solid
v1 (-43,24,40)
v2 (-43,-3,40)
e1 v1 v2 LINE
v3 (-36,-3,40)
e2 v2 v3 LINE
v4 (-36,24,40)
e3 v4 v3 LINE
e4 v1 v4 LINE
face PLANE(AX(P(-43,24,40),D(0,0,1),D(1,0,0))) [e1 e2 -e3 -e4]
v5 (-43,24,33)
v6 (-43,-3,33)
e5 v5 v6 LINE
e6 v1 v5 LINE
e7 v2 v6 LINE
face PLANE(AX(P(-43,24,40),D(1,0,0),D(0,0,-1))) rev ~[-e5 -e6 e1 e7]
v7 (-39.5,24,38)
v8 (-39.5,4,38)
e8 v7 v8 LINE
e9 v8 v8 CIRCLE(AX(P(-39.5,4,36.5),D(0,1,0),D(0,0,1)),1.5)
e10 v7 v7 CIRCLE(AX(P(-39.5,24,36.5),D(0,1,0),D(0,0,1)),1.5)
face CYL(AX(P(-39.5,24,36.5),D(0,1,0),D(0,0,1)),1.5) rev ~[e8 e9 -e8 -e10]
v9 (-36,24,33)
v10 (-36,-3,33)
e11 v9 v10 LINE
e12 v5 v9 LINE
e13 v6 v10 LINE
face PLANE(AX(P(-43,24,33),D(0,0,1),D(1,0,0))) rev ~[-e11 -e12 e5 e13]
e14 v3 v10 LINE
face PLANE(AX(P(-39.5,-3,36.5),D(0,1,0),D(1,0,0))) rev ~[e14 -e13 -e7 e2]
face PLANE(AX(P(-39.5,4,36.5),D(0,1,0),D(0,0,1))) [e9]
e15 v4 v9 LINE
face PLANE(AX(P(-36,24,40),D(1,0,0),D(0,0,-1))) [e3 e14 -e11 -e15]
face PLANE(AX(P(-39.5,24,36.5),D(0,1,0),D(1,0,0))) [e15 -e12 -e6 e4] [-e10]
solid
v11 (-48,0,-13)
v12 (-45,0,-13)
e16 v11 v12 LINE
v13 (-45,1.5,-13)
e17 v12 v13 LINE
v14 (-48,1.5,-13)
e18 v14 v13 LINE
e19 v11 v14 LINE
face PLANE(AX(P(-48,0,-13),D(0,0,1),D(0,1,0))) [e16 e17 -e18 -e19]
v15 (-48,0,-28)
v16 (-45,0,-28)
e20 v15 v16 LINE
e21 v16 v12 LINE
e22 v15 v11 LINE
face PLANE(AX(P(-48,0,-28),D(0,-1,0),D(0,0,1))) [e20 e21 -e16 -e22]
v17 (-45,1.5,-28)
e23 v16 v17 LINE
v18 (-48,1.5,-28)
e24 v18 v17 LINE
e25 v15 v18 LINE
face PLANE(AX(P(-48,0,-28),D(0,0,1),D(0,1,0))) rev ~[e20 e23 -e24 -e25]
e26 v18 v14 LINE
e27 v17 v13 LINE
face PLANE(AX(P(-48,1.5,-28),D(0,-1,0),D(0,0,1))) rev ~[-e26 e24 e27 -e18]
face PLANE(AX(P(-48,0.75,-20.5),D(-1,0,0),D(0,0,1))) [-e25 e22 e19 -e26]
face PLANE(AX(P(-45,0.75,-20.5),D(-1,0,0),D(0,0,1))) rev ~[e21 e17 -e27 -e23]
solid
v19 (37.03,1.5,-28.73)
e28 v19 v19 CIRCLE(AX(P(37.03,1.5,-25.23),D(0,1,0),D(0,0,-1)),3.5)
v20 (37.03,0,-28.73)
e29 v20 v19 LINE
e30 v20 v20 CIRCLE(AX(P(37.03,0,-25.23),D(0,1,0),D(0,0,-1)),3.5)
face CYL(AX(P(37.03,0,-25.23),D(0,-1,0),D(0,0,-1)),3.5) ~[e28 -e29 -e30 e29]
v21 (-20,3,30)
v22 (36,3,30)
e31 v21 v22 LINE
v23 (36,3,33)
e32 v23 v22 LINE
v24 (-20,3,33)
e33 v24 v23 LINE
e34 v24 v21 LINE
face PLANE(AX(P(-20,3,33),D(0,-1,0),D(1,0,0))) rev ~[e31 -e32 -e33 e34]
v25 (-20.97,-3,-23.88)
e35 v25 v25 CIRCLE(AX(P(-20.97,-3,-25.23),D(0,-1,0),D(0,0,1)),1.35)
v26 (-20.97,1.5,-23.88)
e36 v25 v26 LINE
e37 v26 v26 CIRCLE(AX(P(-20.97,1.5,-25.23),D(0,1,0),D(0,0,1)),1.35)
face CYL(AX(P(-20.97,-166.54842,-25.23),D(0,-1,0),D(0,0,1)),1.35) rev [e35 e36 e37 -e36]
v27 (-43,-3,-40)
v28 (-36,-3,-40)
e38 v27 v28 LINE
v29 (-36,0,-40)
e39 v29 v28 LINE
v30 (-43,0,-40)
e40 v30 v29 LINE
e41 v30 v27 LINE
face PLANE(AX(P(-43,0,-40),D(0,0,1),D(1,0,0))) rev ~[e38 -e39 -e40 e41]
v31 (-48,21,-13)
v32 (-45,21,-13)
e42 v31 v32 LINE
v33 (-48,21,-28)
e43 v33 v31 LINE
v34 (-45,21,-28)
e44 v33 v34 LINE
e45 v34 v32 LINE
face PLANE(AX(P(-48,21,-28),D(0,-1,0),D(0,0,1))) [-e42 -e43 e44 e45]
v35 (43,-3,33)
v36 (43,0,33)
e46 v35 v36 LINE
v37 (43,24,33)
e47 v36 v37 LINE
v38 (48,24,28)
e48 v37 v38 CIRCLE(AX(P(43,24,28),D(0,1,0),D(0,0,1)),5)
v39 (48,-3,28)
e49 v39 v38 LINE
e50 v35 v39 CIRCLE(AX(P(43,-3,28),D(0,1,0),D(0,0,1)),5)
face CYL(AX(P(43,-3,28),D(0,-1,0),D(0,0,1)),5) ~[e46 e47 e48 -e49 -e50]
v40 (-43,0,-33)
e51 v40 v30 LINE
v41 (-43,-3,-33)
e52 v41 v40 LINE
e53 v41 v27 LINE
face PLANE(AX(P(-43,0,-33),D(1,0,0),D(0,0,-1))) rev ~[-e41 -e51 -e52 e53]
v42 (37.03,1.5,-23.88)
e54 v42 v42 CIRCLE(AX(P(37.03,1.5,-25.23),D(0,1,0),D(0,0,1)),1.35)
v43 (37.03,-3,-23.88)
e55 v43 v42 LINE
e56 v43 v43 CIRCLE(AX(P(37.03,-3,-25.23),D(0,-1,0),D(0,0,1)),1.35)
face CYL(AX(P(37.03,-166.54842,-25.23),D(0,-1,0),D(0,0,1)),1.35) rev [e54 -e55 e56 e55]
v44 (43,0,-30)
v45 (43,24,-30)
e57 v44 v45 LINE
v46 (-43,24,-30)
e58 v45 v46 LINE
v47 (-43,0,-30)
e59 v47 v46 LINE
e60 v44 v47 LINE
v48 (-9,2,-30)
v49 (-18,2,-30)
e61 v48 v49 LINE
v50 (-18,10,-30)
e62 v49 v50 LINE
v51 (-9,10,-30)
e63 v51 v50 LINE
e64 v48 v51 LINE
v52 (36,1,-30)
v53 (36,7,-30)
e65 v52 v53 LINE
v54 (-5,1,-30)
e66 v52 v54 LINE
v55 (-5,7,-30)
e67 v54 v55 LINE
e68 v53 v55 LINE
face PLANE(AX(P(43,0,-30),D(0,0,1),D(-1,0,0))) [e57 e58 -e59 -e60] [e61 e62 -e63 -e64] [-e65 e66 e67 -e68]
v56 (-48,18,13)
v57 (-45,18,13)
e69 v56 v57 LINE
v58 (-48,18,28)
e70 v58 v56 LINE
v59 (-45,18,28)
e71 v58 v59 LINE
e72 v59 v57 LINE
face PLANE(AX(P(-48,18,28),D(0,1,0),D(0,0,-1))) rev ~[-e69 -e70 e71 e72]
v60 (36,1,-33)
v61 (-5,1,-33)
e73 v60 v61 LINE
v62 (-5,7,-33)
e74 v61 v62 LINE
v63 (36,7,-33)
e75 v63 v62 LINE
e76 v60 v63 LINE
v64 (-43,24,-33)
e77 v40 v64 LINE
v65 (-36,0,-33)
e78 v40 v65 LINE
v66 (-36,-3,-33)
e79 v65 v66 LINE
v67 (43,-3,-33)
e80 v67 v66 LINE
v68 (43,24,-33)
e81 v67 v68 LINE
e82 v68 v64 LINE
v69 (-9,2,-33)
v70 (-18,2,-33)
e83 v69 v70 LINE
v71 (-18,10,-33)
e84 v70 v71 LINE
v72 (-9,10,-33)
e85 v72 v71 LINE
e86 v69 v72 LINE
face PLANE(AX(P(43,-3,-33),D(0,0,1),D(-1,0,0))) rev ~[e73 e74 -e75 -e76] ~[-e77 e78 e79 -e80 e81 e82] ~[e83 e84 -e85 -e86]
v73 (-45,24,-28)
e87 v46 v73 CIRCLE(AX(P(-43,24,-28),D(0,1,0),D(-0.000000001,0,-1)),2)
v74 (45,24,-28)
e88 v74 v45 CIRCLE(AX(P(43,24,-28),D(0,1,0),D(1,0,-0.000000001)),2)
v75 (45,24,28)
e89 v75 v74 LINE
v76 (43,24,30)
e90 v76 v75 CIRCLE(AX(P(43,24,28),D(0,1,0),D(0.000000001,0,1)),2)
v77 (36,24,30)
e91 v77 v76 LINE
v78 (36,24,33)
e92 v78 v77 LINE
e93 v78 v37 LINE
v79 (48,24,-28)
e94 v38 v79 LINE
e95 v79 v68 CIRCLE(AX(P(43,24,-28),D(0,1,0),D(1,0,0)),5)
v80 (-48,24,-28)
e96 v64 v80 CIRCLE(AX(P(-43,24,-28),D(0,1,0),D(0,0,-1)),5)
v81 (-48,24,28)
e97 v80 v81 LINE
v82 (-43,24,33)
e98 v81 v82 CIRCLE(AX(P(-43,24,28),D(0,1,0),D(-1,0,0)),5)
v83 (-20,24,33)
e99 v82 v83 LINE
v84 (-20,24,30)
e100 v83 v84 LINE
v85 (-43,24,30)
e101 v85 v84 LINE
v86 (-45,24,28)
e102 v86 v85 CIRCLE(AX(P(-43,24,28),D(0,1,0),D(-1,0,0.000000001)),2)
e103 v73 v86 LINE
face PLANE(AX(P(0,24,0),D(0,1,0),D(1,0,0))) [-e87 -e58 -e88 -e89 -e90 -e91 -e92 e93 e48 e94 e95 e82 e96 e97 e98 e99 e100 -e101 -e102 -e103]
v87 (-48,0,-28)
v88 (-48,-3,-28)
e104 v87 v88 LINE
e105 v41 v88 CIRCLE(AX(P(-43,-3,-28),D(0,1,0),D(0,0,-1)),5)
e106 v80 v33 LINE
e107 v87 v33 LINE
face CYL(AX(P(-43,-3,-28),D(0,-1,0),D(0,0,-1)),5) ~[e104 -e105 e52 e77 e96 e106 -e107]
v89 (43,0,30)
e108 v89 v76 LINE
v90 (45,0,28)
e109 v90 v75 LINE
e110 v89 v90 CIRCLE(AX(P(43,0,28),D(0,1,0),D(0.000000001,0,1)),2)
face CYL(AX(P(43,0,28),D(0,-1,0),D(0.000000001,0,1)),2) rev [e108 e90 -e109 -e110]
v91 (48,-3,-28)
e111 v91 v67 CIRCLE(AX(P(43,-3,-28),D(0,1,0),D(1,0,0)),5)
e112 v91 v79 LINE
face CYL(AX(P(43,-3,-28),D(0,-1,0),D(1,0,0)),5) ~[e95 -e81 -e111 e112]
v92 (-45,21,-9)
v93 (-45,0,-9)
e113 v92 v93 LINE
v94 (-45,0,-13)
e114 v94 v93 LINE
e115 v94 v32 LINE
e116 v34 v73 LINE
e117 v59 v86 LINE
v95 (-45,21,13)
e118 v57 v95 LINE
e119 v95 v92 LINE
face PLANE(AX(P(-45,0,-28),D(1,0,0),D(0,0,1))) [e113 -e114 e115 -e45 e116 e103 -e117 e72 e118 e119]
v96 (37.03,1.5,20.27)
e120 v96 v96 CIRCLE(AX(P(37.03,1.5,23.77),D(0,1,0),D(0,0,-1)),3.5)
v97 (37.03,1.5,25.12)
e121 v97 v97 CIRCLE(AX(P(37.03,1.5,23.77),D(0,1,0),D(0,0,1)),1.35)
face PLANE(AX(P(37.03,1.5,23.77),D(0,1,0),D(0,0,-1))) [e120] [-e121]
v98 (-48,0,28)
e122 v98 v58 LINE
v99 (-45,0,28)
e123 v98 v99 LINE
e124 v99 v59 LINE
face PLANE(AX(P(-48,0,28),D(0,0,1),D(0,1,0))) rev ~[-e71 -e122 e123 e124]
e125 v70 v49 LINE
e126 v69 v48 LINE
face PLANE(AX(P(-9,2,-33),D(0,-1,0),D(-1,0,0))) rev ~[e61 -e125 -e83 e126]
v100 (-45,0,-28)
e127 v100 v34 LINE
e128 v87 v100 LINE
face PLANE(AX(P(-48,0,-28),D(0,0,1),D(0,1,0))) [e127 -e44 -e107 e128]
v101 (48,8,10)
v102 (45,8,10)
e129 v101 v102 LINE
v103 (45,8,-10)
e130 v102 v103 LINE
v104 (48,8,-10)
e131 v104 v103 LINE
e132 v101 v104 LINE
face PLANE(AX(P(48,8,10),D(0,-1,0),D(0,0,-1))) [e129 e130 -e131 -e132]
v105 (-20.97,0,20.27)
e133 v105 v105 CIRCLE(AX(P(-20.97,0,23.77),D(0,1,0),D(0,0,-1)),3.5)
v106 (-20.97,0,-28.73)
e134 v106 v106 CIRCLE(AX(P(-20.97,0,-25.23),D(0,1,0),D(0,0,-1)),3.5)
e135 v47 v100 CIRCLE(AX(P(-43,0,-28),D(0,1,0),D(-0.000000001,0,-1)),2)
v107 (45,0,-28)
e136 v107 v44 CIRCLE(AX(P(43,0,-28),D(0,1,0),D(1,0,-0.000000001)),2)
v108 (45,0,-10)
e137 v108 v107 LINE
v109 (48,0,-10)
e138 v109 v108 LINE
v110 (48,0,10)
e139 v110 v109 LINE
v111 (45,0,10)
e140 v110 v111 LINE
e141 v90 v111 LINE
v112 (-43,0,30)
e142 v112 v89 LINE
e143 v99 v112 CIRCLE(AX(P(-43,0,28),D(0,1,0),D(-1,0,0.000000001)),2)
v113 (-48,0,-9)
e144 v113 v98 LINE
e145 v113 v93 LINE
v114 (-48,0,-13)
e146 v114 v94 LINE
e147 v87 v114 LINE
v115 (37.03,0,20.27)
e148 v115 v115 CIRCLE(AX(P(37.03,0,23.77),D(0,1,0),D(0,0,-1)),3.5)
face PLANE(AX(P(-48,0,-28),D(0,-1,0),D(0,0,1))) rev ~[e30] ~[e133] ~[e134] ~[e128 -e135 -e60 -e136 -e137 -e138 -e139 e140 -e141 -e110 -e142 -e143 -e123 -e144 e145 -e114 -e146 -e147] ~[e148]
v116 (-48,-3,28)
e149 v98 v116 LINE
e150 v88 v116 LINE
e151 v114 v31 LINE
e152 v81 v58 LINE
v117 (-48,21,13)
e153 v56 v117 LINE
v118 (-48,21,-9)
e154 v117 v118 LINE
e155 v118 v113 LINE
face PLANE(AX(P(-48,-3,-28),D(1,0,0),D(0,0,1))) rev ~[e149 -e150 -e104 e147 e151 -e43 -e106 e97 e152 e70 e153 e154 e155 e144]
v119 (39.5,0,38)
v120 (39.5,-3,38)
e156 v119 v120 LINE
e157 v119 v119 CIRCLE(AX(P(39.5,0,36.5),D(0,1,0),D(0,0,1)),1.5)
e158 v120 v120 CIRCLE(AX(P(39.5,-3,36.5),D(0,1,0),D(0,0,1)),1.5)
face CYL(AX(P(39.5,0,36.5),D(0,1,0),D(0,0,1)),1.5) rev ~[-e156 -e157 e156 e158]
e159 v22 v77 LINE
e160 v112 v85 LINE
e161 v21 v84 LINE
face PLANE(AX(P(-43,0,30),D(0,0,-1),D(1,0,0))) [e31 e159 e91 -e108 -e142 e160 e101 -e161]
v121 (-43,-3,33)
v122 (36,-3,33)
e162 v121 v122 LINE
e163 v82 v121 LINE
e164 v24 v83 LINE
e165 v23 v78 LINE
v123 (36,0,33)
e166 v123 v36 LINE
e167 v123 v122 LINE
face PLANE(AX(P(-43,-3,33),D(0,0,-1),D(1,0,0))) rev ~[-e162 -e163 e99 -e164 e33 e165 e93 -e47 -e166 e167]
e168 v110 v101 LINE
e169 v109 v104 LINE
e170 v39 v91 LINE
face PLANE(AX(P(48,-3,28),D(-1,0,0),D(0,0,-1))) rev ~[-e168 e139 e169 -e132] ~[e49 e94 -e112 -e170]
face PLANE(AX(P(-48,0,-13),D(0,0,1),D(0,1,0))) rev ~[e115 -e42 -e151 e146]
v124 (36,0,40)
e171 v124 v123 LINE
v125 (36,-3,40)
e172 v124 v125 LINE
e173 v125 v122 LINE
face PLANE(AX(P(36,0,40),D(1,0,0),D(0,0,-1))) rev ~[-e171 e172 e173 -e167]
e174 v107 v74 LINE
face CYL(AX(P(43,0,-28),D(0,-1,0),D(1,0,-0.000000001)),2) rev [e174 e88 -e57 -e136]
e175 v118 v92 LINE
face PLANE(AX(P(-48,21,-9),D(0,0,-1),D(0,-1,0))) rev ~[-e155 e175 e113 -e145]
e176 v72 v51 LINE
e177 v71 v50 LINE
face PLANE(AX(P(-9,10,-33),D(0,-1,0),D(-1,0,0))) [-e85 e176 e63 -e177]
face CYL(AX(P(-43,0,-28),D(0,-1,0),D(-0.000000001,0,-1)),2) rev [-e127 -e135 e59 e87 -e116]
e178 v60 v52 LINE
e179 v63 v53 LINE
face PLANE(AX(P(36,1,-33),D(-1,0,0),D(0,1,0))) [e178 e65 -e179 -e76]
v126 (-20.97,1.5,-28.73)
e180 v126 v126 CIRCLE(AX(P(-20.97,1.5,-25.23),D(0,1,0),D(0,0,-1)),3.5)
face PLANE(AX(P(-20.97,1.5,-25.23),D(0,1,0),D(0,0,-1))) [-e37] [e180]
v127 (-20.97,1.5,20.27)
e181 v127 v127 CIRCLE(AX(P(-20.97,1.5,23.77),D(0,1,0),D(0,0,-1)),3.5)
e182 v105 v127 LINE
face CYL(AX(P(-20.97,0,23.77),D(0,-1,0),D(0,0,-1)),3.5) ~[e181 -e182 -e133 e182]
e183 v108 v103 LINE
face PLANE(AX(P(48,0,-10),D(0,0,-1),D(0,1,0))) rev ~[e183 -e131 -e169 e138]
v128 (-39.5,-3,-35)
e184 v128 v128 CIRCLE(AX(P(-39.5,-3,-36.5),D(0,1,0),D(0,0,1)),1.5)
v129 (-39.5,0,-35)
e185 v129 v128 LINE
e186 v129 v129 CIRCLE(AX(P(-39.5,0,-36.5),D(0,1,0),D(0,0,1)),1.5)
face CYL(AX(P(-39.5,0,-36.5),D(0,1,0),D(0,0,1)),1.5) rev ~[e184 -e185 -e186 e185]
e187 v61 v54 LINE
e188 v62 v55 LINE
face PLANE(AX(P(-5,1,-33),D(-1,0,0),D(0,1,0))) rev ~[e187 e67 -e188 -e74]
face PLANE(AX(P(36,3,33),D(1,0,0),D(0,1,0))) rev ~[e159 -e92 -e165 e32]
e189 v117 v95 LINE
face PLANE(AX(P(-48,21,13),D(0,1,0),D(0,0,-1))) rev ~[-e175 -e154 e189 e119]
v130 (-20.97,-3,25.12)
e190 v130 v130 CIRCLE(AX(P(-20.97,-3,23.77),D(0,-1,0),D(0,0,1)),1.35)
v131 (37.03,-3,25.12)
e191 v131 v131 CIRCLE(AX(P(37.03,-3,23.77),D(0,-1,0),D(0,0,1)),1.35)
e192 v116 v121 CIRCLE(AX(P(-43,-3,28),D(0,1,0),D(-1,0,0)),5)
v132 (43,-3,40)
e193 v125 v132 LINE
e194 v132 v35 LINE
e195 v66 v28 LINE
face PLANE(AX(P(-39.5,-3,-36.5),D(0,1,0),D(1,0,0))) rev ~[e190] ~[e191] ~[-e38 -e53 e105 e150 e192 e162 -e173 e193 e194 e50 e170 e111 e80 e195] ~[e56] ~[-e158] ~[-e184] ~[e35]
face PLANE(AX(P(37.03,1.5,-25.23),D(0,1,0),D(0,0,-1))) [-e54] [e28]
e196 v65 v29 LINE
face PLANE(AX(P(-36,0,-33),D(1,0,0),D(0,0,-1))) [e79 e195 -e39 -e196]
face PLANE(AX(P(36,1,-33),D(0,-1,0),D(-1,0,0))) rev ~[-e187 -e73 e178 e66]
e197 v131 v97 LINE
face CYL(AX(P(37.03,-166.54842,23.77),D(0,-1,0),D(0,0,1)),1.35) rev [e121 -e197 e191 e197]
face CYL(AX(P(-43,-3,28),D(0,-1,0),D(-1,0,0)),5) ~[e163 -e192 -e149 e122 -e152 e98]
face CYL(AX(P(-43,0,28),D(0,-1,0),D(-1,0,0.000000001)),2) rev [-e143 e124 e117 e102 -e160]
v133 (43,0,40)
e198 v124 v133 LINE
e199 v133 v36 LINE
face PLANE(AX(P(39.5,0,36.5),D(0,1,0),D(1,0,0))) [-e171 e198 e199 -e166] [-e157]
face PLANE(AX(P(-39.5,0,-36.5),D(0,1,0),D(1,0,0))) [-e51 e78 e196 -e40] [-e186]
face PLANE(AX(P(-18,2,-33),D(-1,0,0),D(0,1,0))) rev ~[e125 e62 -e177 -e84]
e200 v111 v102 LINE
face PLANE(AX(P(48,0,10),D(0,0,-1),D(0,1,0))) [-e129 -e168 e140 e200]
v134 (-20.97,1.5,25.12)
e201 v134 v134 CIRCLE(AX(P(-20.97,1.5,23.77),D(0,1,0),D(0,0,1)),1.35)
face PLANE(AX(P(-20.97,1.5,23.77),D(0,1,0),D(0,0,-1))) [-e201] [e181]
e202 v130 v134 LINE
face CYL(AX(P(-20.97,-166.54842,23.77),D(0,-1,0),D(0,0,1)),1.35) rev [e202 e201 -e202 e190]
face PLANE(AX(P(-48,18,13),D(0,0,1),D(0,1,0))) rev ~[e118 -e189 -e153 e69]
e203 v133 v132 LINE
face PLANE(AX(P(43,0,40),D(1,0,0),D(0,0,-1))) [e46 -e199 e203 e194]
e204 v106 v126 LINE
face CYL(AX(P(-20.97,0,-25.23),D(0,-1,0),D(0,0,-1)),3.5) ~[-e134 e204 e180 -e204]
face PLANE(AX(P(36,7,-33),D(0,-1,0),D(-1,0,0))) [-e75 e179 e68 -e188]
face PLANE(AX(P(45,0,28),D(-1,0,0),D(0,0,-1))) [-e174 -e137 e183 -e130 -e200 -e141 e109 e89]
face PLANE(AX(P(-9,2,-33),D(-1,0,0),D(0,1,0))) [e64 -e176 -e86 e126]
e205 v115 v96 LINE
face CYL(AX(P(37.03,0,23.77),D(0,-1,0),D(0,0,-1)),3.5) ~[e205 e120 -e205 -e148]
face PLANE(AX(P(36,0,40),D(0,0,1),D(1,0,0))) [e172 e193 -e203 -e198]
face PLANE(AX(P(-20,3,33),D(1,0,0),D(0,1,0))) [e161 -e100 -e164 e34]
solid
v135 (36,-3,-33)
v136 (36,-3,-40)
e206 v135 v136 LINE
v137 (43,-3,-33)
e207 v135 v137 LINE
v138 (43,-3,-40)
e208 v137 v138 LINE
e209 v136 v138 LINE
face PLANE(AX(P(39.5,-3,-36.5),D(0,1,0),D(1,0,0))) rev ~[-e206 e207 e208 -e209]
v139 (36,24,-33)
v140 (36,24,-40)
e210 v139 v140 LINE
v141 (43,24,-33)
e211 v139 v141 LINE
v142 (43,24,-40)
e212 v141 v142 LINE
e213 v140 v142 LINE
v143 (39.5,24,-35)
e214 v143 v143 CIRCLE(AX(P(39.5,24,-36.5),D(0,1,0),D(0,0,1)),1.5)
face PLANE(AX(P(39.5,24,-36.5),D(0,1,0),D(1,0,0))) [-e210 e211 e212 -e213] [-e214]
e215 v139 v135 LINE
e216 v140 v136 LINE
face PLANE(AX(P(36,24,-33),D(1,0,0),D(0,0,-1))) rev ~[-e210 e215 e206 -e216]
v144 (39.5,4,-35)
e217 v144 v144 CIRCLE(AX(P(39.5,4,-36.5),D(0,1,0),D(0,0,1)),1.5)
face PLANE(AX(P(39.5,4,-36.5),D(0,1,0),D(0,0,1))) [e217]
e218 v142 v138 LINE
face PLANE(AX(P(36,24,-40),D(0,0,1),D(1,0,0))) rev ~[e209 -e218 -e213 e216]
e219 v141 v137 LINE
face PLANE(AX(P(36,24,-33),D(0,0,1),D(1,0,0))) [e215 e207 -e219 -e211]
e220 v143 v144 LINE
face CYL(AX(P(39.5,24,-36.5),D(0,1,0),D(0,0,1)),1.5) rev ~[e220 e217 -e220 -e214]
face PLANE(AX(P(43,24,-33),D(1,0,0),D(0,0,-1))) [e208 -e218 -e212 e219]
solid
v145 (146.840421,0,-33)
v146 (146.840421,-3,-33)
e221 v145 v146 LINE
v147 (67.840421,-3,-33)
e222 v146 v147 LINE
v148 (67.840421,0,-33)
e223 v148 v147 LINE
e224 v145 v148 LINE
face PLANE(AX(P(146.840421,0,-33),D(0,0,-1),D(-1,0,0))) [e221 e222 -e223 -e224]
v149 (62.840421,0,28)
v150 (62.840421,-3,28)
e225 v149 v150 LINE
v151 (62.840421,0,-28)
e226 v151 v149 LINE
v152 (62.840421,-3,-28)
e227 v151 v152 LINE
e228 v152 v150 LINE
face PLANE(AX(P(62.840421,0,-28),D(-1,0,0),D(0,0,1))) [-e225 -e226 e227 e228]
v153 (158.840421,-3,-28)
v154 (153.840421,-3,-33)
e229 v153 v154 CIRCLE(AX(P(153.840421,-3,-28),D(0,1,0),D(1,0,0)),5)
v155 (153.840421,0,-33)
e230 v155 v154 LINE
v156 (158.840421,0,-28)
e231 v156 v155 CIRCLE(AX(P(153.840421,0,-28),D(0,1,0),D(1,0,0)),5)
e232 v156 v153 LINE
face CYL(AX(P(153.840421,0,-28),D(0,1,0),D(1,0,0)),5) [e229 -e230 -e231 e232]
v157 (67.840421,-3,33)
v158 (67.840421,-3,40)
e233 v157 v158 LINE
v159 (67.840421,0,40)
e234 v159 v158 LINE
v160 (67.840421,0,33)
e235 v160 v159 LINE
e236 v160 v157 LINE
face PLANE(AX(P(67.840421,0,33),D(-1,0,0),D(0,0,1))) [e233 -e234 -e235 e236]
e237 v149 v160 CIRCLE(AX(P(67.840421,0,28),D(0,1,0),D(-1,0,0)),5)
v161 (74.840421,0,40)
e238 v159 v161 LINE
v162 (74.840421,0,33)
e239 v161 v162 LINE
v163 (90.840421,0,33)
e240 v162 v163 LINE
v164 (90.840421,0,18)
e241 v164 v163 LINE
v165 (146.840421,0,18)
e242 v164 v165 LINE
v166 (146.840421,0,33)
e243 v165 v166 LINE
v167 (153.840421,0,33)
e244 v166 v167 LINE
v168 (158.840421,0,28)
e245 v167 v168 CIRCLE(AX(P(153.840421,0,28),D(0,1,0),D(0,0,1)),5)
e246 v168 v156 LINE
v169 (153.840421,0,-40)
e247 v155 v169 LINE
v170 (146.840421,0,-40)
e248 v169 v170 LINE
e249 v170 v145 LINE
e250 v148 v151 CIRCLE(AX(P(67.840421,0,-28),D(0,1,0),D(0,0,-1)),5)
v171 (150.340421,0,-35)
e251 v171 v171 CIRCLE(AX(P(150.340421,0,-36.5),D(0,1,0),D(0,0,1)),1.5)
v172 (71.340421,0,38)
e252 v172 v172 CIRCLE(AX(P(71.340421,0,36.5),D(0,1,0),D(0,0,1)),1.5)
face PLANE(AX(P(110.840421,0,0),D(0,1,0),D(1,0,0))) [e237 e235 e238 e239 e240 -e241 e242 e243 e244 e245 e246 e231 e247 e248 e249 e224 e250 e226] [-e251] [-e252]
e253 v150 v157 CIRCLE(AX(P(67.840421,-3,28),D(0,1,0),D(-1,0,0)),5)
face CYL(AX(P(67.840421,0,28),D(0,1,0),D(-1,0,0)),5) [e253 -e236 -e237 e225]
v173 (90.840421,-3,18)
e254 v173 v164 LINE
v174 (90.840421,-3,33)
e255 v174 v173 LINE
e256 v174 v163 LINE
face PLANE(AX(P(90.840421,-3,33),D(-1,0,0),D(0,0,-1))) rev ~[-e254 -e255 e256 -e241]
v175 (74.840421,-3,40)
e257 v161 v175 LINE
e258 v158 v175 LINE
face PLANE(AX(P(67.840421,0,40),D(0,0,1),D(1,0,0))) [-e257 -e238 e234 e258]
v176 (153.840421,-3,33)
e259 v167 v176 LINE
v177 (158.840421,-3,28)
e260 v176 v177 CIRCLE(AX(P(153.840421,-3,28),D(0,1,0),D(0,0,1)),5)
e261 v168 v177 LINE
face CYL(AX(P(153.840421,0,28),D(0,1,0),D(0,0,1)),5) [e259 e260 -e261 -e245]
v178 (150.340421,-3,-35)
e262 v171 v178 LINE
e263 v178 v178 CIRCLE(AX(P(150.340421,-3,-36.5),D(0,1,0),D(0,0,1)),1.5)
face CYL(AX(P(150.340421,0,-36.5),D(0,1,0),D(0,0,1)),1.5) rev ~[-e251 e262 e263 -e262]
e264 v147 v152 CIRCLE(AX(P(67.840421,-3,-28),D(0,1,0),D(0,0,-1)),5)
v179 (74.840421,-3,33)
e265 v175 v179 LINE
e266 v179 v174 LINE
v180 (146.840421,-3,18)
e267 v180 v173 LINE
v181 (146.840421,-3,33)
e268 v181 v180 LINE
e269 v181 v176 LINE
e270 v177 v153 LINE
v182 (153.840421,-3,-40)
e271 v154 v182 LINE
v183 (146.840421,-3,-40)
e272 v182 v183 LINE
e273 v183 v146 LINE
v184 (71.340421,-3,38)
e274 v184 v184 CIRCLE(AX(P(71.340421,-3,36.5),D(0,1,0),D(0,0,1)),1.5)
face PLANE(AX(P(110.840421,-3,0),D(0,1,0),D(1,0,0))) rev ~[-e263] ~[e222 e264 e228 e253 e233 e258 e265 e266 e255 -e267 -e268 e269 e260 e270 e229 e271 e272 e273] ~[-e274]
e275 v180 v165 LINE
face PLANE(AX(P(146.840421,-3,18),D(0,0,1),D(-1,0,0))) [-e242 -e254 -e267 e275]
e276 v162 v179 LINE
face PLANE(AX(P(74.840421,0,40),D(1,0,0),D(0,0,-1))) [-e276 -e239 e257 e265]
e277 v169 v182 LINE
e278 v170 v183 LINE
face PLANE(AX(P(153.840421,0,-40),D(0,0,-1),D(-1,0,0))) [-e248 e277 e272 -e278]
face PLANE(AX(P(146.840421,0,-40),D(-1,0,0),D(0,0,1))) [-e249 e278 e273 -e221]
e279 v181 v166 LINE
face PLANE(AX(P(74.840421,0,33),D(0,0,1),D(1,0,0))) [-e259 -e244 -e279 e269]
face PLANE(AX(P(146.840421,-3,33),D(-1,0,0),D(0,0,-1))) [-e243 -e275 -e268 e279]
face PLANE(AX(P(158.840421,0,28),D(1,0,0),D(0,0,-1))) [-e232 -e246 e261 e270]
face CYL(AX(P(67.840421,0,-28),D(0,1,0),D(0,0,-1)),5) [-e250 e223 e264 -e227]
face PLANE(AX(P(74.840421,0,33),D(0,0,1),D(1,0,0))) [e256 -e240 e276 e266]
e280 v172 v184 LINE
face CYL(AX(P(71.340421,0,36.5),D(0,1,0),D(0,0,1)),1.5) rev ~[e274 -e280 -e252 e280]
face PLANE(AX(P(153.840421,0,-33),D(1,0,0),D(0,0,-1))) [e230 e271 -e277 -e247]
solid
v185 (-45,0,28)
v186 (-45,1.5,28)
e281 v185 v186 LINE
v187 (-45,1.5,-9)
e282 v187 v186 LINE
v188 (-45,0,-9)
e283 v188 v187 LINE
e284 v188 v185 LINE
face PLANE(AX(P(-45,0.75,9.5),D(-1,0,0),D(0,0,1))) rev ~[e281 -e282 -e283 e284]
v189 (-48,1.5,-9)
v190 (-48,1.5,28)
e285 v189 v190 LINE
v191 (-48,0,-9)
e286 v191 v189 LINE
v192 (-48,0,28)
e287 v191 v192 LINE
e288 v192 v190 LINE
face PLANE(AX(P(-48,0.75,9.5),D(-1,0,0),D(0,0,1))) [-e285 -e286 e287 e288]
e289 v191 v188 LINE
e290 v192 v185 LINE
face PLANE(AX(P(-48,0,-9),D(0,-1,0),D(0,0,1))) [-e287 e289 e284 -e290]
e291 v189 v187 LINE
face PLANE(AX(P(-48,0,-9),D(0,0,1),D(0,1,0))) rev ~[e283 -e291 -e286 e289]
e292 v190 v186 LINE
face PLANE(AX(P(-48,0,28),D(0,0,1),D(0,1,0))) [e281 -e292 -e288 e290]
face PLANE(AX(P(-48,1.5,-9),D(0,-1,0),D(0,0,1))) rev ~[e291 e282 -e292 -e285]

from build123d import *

# Parameters (mm, degrees)
EXTRUIR_L_MINA1_DEPTH      = 24
SALIENTE_EXTRUIR1_START    = 3
SALIENTE_EXTRUIR1_DEPTH    = 3
CORTAR_EXTRUIR1_REACH      = 106.312
CROQUIS4_W                 = 15
CROQUIS4_H                 = 21
CORTAR_EXTRUIR2_REACH      = 87.065
CROQUIS5_W                 = 56
CROQUIS5_H                 = 21
CORTAR_EXTRUIR3_REACH      = 87.065
CROQUIS7_W                 = 41
CROQUIS7_H                 = 6
CROQUIS7_W_2               = 9
CROQUIS7_H_2               = 8
CROQUIS8_W                 = 7
CROQUIS8_H                 = 7
SALIENTE_EXTRUIR5_DEPTH    = 27
SALIENTE_EXTRUIR5_2_DEPTH  = 27
CROQUIS10_R                = 1.5
CORTAR_EXTRUIR4_DEPTH      = 20
CROQUIS11_R                = 1.5
SALIENTE_EXTRUIR6_DEPTH    = 3
CROQUIS12_W                = 15
CROQUIS12_H                = 1.5
SALIENTE_EXTRUIR7_DEPTH    = 3
CROQUIS12_W_2              = 37
SALIENTE_EXTRUIR7_2_DEPTH  = 3
CROQUIS13_R                = 3.5
CROQUIS13_R_2              = 1.35
SALIENTE_EXTRUIR8_DEPTH    = 1.5
CORTAR_EXTRUIR5_DEPTH      = 2
CORTAR_EXTRUIR5_DEPTH_BACK = 166.548420234
CROQUIS14_R                = 1.35
CROQUIS15_W                = 56
CROQUIS15_H                = 15
CORTAR_EXTRUIR6_DEPTH      = 167.009877543
CROQUIS16_W                = 7
CROQUIS16_H                = 7
CROQUIS16_R                = 1.5
SALIENTE_EXTRUIR9_DEPTH    = 3
CROQUIS17_W                = 20
CROQUIS17_H                = 8
CORTAR_EXTRUIR7_DEPTH      = 3


with BuildPart() as part:
    # Croquis1 → Extruir-Lámina1 (new body)
    with BuildSketch(Plane(origin=(0, 0, 0), x_dir=(1, 0, 0), z_dir=(0, 1, 0))):
        with BuildLine():
            Line((-48, 28), (-48, -28))
            ThreePointArc((-48, -28), (-46.535533906, -31.535533906), (-43, -33))
            Line((-43, -33), (43, -33))
            ThreePointArc((43, -33), (46.535533906, -31.535533906), (48, -28))
            Line((48, -28), (48, 28))
            ThreePointArc((48, 28), (46.535533906, 31.535533906), (43, 33))
            Line((43, 33), (-43, 33))
            ThreePointArc((-43, 33), (-46.535533906, 31.535533906), (-48, 28))
        make_face()
        with BuildLine():
            Line((-45, 28), (-45, -28))
            ThreePointArc((-45, -28), (-44.414213562, -29.414213562), (-43, -30))
            Line((-43, -30), (43, -30))
            ThreePointArc((43, -30), (44.414213562, -29.414213562), (45, -28))
            Line((45, -28), (45, 28))
            ThreePointArc((45, 28), (44.414213562, 29.414213562), (43, 30))
            Line((43, 30), (-43, 30))
            ThreePointArc((-43, 30), (-44.414213562, 29.414213562), (-45, 28))
        make_face(mode=Mode.SUBTRACT)
    extrude(amount=EXTRUIR_L_MINA1_DEPTH)

    # Croquis3 → Saliente-Extruir1 (add)
    with BuildSketch(Plane.XZ.offset(SALIENTE_EXTRUIR1_START)):
        with BuildLine():
            Line((-43, 33), (43, 33))
            ThreePointArc((43, 33), (46.535533906, 31.535533906), (48, 28))
            Line((48, 28), (48, -28))
            ThreePointArc((48, -28), (46.535533906, -31.535533906), (43, -33))
            Line((43, -33), (-43, -33))
            ThreePointArc((-43, -33), (-46.535533906, -31.535533906), (-48, -28))
            Line((-48, -28), (-48, 28))
            ThreePointArc((-48, 28), (-46.535533906, 31.535533906), (-43, 33))
        make_face()
    extrude(amount=-SALIENTE_EXTRUIR1_DEPTH)

    # Croquis4 → Cortar-Extruir1 (cut, up to next)
    with BuildSketch(Plane.ZY.offset(48), mode=Mode.PRIVATE) as cortar_extruir1_sk1:
        Polygon((28, 0), (28, 18), (13, 18), (13, 21), (-9, 21), (-9, 0), align=None)
    cortar_extruir1_tool1 = extrude(cortar_extruir1_sk1.sketch, amount=-CORTAR_EXTRUIR1_REACH, mode=Mode.PRIVATE) & part.part
    # Croquis4 → Cortar-Extruir1 (cut, up to next)
    with BuildSketch(Plane.ZY.offset(48), mode=Mode.PRIVATE) as cortar_extruir1_sk2:
        with Locations((-20.5, 10.5)):
            Rectangle(CROQUIS4_W, CROQUIS4_H)
    cortar_extruir1_tool2 = extrude(cortar_extruir1_sk2.sketch, amount=-CORTAR_EXTRUIR1_REACH, mode=Mode.PRIVATE) & part.part
    add(cortar_extruir1_tool1.solids().sort_by_distance((-48, 9.946721, 8.82377))[0], mode=Mode.SUBTRACT)
    add(cortar_extruir1_tool2.solids().sort_by_distance((-48, 10.5, -20.5))[0], mode=Mode.SUBTRACT)

    # Croquis5 → Cortar-Extruir2 (cut, up to next)
    with BuildSketch(Plane.XY.offset(33), mode=Mode.PRIVATE) as cortar_extruir2_sk1:
        with Locations((8, 13.5)):
            Rectangle(CROQUIS5_W, CROQUIS5_H)
    cortar_extruir2_tool1 = extrude(cortar_extruir2_sk1.sketch, amount=-CORTAR_EXTRUIR2_REACH, mode=Mode.PRIVATE) & part.part
    add(cortar_extruir2_tool1.solids().sort_by_distance((8, 13.5, 33))[0], mode=Mode.SUBTRACT)

    # Croquis7 → Cortar-Extruir3 (cut, up to next)
    with BuildSketch(Plane(origin=(0, 0, -33), x_dir=(-1, 0, 0), z_dir=(0, 0, -1)), mode=Mode.PRIVATE) as cortar_extruir3_sk1:
        with Locations((-15.5, 4)):
            Rectangle(CROQUIS7_W, CROQUIS7_H)
    cortar_extruir3_tool1 = extrude(cortar_extruir3_sk1.sketch, amount=-CORTAR_EXTRUIR3_REACH, mode=Mode.PRIVATE) & part.part
    # Croquis7 → Cortar-Extruir3 (cut, up to next)
    with BuildSketch(Plane(origin=(0, 0, -33), x_dir=(-1, 0, 0), z_dir=(0, 0, -1)), mode=Mode.PRIVATE) as cortar_extruir3_sk2:
        with Locations((13.5, 6)):
            Rectangle(CROQUIS7_W_2, CROQUIS7_H_2)
    cortar_extruir3_tool2 = extrude(cortar_extruir3_sk2.sketch, amount=-CORTAR_EXTRUIR3_REACH, mode=Mode.PRIVATE) & part.part
    add(cortar_extruir3_tool1.solids().sort_by_distance((15.5, 4, -33))[0], mode=Mode.SUBTRACT)
    add(cortar_extruir3_tool2.solids().sort_by_distance((-13.5, 6, -33))[0], mode=Mode.SUBTRACT)

    # Croquis13 → Saliente-Extruir8 (add)
    # profile 1 of 4: a face of its own
    with BuildSketch(Plane(origin=(0, 0, 0), x_dir=(1, 0, 0), z_dir=(0, 1, 0))):
        with Locations(Location((-20.97, 25.23, 0), (0, 0, 90))):
            Circle(CROQUIS13_R)
        with Locations(Location((-20.97, 25.23, 0), (0, 0, 270))):
            Circle(CROQUIS13_R_2, mode=Mode.SUBTRACT)
    # profile 2 of 4: a face of its own
    with BuildSketch(Plane(origin=(0, 0, 0), x_dir=(1, 0, 0), z_dir=(0, 1, 0))):
        with Locations(Location((37.03, -23.77, 0), (0, 0, 90))):
            Circle(CROQUIS13_R)
        with Locations(Location((37.03, -23.77, 0), (0, 0, 270))):
            Circle(CROQUIS13_R_2, mode=Mode.SUBTRACT)
    # profile 3 of 4: a face of its own
    with BuildSketch(Plane(origin=(0, 0, 0), x_dir=(1, 0, 0), z_dir=(0, 1, 0))):
        with Locations(Location((-20.97, -23.77, 0), (0, 0, 90))):
            Circle(CROQUIS13_R)
        with Locations(Location((-20.97, -23.77, 0), (0, 0, 270))):
            Circle(CROQUIS13_R_2, mode=Mode.SUBTRACT)
    # profile 4 of 4: a face of its own
    with BuildSketch(Plane(origin=(0, 0, 0), x_dir=(1, 0, 0), z_dir=(0, 1, 0))):
        with Locations(Location((37.03, 25.23, 0), (0, 0, 90))):
            Circle(CROQUIS13_R)
        with Locations(Location((37.03, 25.23, 0), (0, 0, 270))):
            Circle(CROQUIS13_R_2, mode=Mode.SUBTRACT)
    extrude(amount=SALIENTE_EXTRUIR8_DEPTH)

    # Croquis14 → Cortar-Extruir5 (cut, two sides: drawn at the far end of the back side and taken through both)
    with BuildSketch(Plane(origin=(0, 0, 0), x_dir=(1, 0, 0), z_dir=(0, 1, 0)).offset(-CORTAR_EXTRUIR5_DEPTH_BACK)):
        with Locations(Location((37.03, -23.77, 0), (0, 0, 270))):
            Circle(CROQUIS14_R)
        with Locations(Location((-20.97, -23.77, 0), (0, 0, 270))):
            Circle(CROQUIS14_R)
        with Locations(Location((37.03, 25.23, 0), (0, 0, 270))):
            Circle(CROQUIS14_R)
        with Locations(Location((-20.97, 25.23, 0), (0, 0, 270))):
            Circle(CROQUIS14_R)
    extrude(amount=CORTAR_EXTRUIR5_DEPTH + CORTAR_EXTRUIR5_DEPTH_BACK, mode=Mode.SUBTRACT)

    # Croquis16 → Saliente-Extruir9 (add)
    # profile 1 of 2: a face of its own
    with BuildSketch(Plane(origin=(0, 0, 0), x_dir=(1, 0, 0), z_dir=(0, 1, 0))):
        with Locations((-39.5, 36.5)):
            Rectangle(CROQUIS16_W, CROQUIS16_H)
        with Locations(Location((-39.5, 36.5, 0), (0, 0, 270))):
            Circle(CROQUIS16_R, mode=Mode.SUBTRACT)
    # profile 2 of 2: a face of its own
    with BuildSketch(Plane(origin=(0, 0, 0), x_dir=(1, 0, 0), z_dir=(0, 1, 0))):
        with Locations((39.5, -36.5)):
            Rectangle(CROQUIS16_W, CROQUIS16_H)
        with Locations(Location((39.5, -36.5, 0), (0, 0, 270))):
            Circle(CROQUIS16_R, mode=Mode.SUBTRACT)
    extrude(amount=-SALIENTE_EXTRUIR9_DEPTH)

    # Croquis17 → Cortar-Extruir7 (cut)
    with BuildSketch(Plane(origin=(48, 0, 0), x_dir=(0, 0, -1), z_dir=(1, 0, 0))):
        with Locations((0, 4)):
            Rectangle(CROQUIS17_W, CROQUIS17_H)
    extrude(amount=-CORTAR_EXTRUIR7_DEPTH, mode=Mode.SUBTRACT)


with BuildPart() as body_2:
    # Croquis8 → Saliente-Extruir5 (new body)
    with BuildSketch(Plane(origin=(0, 24, 0), x_dir=(1, 0, 0), z_dir=(0, 1, 0))):
        with Locations((-39.5, -36.5)):
            Rectangle(CROQUIS8_W, CROQUIS8_H)
    extrude(amount=-SALIENTE_EXTRUIR5_DEPTH)


with BuildPart() as body_3:
    # Croquis8 → Saliente-Extruir5 2 (new body)
    with BuildSketch(Plane(origin=(0, 24, 0), x_dir=(1, 0, 0), z_dir=(0, 1, 0))):
        with Locations((39.5, 36.5)):
            Rectangle(CROQUIS8_W, CROQUIS8_H)
    extrude(amount=-SALIENTE_EXTRUIR5_2_DEPTH)


with BuildPart() as cortar_extruir4_tool:
    # Croquis10 → Cortar-Extruir4 (new body)
    with BuildSketch(Plane(origin=(0, 24, 0), x_dir=(1, 0, 0), z_dir=(0, 1, 0))):
        with Locations(Location((-39.5, -36.5, 0), (0, 0, 270))):
            Circle(CROQUIS10_R)
        with Locations(Location((39.5, 36.5, 0), (0, 0, 270))):
            Circle(CROQUIS10_R)
    extrude(amount=-CORTAR_EXTRUIR4_DEPTH)


with BuildPart() as body_2_1:
    add(body_2.part)

    # Cortar-Extruir4: cut by cortar_extruir4_tool
    add(cortar_extruir4_tool.part, mode=Mode.SUBTRACT)


with BuildPart() as body_3_1:
    add(body_3.part)

    # Cortar-Extruir4: cut by cortar_extruir4_tool
    add(cortar_extruir4_tool.part, mode=Mode.SUBTRACT)


with BuildPart() as body_4:
    # Croquis11 → Saliente-Extruir6 (new body)
    with BuildSketch(Plane(origin=(0, 0, 0), x_dir=(1, 0, 0), z_dir=(0, 1, 0))):
        with BuildLine():
            Line((67.84042131, -33), (67.84042131, -40))
            Line((67.84042131, -40), (74.84042131, -40))
            Line((74.84042131, -40), (74.84042131, -33))
            Line((74.84042131, -33), (150.84042131, -33))
            Line((150.84042131, -33), (153.84042131, -33))
            ThreePointArc((153.84042131, -33), (157.375955216, -31.535533906), (158.84042131, -28))
            Line((158.84042131, -28), (158.84042131, 28))
            ThreePointArc((158.84042131, 28), (157.375955216, 31.535533906), (153.84042131, 33))
            Line((153.84042131, 33), (153.84042131, 40))
            Line((153.84042131, 40), (146.84042131, 40))
            Line((146.84042131, 40), (146.84042131, 33))
            Line((146.84042131, 33), (67.84042131, 33))
            ThreePointArc((67.84042131, 33), (64.304887404, 31.535533906), (62.84042131, 28))
            Line((62.84042131, 28), (62.84042131, -28))
            ThreePointArc((62.84042131, -28), (64.304887404, -31.535533906), (67.84042131, -33))
        make_face()
        with Locations(Location((71.34042131, -36.5, 0), (0, 0, 270))):
            Circle(CROQUIS11_R, mode=Mode.SUBTRACT)
        with Locations(Location((150.34042131, 36.5, 0), (0, 0, 270))):
            Circle(CROQUIS11_R, mode=Mode.SUBTRACT)
    extrude(amount=-SALIENTE_EXTRUIR6_DEPTH)

    # Croquis15 → Cortar-Extruir6 (cut, through all)
    with BuildSketch(Plane(origin=(0, -3, 0), x_dir=(-1, 0, 0), z_dir=(0, -1, 0))):
        with Locations((-118.84042131, -25.5)):
            Rectangle(CROQUIS15_W, CROQUIS15_H)
    extrude(amount=-CORTAR_EXTRUIR6_DEPTH, mode=Mode.SUBTRACT)


with BuildPart() as body_5:
    # Croquis12 → Saliente-Extruir7 (new body)
    with BuildSketch(Plane.ZY.offset(48)):
        with Locations((-20.5, 0.75)):
            Rectangle(CROQUIS12_W, CROQUIS12_H)
    extrude(amount=-SALIENTE_EXTRUIR7_DEPTH)


with BuildPart() as body_6:
    # Croquis12 → Saliente-Extruir7 2 (new body)
    with BuildSketch(Plane.ZY.offset(48)):
        with Locations((9.5, 0.75)):
            Rectangle(CROQUIS12_W_2, CROQUIS12_H)
    extrude(amount=-SALIENTE_EXTRUIR7_2_DEPTH)


solid = Compound([part.part, body_2_1.part, body_3_1.part, body_4.part, body_5.part, body_6.part])
